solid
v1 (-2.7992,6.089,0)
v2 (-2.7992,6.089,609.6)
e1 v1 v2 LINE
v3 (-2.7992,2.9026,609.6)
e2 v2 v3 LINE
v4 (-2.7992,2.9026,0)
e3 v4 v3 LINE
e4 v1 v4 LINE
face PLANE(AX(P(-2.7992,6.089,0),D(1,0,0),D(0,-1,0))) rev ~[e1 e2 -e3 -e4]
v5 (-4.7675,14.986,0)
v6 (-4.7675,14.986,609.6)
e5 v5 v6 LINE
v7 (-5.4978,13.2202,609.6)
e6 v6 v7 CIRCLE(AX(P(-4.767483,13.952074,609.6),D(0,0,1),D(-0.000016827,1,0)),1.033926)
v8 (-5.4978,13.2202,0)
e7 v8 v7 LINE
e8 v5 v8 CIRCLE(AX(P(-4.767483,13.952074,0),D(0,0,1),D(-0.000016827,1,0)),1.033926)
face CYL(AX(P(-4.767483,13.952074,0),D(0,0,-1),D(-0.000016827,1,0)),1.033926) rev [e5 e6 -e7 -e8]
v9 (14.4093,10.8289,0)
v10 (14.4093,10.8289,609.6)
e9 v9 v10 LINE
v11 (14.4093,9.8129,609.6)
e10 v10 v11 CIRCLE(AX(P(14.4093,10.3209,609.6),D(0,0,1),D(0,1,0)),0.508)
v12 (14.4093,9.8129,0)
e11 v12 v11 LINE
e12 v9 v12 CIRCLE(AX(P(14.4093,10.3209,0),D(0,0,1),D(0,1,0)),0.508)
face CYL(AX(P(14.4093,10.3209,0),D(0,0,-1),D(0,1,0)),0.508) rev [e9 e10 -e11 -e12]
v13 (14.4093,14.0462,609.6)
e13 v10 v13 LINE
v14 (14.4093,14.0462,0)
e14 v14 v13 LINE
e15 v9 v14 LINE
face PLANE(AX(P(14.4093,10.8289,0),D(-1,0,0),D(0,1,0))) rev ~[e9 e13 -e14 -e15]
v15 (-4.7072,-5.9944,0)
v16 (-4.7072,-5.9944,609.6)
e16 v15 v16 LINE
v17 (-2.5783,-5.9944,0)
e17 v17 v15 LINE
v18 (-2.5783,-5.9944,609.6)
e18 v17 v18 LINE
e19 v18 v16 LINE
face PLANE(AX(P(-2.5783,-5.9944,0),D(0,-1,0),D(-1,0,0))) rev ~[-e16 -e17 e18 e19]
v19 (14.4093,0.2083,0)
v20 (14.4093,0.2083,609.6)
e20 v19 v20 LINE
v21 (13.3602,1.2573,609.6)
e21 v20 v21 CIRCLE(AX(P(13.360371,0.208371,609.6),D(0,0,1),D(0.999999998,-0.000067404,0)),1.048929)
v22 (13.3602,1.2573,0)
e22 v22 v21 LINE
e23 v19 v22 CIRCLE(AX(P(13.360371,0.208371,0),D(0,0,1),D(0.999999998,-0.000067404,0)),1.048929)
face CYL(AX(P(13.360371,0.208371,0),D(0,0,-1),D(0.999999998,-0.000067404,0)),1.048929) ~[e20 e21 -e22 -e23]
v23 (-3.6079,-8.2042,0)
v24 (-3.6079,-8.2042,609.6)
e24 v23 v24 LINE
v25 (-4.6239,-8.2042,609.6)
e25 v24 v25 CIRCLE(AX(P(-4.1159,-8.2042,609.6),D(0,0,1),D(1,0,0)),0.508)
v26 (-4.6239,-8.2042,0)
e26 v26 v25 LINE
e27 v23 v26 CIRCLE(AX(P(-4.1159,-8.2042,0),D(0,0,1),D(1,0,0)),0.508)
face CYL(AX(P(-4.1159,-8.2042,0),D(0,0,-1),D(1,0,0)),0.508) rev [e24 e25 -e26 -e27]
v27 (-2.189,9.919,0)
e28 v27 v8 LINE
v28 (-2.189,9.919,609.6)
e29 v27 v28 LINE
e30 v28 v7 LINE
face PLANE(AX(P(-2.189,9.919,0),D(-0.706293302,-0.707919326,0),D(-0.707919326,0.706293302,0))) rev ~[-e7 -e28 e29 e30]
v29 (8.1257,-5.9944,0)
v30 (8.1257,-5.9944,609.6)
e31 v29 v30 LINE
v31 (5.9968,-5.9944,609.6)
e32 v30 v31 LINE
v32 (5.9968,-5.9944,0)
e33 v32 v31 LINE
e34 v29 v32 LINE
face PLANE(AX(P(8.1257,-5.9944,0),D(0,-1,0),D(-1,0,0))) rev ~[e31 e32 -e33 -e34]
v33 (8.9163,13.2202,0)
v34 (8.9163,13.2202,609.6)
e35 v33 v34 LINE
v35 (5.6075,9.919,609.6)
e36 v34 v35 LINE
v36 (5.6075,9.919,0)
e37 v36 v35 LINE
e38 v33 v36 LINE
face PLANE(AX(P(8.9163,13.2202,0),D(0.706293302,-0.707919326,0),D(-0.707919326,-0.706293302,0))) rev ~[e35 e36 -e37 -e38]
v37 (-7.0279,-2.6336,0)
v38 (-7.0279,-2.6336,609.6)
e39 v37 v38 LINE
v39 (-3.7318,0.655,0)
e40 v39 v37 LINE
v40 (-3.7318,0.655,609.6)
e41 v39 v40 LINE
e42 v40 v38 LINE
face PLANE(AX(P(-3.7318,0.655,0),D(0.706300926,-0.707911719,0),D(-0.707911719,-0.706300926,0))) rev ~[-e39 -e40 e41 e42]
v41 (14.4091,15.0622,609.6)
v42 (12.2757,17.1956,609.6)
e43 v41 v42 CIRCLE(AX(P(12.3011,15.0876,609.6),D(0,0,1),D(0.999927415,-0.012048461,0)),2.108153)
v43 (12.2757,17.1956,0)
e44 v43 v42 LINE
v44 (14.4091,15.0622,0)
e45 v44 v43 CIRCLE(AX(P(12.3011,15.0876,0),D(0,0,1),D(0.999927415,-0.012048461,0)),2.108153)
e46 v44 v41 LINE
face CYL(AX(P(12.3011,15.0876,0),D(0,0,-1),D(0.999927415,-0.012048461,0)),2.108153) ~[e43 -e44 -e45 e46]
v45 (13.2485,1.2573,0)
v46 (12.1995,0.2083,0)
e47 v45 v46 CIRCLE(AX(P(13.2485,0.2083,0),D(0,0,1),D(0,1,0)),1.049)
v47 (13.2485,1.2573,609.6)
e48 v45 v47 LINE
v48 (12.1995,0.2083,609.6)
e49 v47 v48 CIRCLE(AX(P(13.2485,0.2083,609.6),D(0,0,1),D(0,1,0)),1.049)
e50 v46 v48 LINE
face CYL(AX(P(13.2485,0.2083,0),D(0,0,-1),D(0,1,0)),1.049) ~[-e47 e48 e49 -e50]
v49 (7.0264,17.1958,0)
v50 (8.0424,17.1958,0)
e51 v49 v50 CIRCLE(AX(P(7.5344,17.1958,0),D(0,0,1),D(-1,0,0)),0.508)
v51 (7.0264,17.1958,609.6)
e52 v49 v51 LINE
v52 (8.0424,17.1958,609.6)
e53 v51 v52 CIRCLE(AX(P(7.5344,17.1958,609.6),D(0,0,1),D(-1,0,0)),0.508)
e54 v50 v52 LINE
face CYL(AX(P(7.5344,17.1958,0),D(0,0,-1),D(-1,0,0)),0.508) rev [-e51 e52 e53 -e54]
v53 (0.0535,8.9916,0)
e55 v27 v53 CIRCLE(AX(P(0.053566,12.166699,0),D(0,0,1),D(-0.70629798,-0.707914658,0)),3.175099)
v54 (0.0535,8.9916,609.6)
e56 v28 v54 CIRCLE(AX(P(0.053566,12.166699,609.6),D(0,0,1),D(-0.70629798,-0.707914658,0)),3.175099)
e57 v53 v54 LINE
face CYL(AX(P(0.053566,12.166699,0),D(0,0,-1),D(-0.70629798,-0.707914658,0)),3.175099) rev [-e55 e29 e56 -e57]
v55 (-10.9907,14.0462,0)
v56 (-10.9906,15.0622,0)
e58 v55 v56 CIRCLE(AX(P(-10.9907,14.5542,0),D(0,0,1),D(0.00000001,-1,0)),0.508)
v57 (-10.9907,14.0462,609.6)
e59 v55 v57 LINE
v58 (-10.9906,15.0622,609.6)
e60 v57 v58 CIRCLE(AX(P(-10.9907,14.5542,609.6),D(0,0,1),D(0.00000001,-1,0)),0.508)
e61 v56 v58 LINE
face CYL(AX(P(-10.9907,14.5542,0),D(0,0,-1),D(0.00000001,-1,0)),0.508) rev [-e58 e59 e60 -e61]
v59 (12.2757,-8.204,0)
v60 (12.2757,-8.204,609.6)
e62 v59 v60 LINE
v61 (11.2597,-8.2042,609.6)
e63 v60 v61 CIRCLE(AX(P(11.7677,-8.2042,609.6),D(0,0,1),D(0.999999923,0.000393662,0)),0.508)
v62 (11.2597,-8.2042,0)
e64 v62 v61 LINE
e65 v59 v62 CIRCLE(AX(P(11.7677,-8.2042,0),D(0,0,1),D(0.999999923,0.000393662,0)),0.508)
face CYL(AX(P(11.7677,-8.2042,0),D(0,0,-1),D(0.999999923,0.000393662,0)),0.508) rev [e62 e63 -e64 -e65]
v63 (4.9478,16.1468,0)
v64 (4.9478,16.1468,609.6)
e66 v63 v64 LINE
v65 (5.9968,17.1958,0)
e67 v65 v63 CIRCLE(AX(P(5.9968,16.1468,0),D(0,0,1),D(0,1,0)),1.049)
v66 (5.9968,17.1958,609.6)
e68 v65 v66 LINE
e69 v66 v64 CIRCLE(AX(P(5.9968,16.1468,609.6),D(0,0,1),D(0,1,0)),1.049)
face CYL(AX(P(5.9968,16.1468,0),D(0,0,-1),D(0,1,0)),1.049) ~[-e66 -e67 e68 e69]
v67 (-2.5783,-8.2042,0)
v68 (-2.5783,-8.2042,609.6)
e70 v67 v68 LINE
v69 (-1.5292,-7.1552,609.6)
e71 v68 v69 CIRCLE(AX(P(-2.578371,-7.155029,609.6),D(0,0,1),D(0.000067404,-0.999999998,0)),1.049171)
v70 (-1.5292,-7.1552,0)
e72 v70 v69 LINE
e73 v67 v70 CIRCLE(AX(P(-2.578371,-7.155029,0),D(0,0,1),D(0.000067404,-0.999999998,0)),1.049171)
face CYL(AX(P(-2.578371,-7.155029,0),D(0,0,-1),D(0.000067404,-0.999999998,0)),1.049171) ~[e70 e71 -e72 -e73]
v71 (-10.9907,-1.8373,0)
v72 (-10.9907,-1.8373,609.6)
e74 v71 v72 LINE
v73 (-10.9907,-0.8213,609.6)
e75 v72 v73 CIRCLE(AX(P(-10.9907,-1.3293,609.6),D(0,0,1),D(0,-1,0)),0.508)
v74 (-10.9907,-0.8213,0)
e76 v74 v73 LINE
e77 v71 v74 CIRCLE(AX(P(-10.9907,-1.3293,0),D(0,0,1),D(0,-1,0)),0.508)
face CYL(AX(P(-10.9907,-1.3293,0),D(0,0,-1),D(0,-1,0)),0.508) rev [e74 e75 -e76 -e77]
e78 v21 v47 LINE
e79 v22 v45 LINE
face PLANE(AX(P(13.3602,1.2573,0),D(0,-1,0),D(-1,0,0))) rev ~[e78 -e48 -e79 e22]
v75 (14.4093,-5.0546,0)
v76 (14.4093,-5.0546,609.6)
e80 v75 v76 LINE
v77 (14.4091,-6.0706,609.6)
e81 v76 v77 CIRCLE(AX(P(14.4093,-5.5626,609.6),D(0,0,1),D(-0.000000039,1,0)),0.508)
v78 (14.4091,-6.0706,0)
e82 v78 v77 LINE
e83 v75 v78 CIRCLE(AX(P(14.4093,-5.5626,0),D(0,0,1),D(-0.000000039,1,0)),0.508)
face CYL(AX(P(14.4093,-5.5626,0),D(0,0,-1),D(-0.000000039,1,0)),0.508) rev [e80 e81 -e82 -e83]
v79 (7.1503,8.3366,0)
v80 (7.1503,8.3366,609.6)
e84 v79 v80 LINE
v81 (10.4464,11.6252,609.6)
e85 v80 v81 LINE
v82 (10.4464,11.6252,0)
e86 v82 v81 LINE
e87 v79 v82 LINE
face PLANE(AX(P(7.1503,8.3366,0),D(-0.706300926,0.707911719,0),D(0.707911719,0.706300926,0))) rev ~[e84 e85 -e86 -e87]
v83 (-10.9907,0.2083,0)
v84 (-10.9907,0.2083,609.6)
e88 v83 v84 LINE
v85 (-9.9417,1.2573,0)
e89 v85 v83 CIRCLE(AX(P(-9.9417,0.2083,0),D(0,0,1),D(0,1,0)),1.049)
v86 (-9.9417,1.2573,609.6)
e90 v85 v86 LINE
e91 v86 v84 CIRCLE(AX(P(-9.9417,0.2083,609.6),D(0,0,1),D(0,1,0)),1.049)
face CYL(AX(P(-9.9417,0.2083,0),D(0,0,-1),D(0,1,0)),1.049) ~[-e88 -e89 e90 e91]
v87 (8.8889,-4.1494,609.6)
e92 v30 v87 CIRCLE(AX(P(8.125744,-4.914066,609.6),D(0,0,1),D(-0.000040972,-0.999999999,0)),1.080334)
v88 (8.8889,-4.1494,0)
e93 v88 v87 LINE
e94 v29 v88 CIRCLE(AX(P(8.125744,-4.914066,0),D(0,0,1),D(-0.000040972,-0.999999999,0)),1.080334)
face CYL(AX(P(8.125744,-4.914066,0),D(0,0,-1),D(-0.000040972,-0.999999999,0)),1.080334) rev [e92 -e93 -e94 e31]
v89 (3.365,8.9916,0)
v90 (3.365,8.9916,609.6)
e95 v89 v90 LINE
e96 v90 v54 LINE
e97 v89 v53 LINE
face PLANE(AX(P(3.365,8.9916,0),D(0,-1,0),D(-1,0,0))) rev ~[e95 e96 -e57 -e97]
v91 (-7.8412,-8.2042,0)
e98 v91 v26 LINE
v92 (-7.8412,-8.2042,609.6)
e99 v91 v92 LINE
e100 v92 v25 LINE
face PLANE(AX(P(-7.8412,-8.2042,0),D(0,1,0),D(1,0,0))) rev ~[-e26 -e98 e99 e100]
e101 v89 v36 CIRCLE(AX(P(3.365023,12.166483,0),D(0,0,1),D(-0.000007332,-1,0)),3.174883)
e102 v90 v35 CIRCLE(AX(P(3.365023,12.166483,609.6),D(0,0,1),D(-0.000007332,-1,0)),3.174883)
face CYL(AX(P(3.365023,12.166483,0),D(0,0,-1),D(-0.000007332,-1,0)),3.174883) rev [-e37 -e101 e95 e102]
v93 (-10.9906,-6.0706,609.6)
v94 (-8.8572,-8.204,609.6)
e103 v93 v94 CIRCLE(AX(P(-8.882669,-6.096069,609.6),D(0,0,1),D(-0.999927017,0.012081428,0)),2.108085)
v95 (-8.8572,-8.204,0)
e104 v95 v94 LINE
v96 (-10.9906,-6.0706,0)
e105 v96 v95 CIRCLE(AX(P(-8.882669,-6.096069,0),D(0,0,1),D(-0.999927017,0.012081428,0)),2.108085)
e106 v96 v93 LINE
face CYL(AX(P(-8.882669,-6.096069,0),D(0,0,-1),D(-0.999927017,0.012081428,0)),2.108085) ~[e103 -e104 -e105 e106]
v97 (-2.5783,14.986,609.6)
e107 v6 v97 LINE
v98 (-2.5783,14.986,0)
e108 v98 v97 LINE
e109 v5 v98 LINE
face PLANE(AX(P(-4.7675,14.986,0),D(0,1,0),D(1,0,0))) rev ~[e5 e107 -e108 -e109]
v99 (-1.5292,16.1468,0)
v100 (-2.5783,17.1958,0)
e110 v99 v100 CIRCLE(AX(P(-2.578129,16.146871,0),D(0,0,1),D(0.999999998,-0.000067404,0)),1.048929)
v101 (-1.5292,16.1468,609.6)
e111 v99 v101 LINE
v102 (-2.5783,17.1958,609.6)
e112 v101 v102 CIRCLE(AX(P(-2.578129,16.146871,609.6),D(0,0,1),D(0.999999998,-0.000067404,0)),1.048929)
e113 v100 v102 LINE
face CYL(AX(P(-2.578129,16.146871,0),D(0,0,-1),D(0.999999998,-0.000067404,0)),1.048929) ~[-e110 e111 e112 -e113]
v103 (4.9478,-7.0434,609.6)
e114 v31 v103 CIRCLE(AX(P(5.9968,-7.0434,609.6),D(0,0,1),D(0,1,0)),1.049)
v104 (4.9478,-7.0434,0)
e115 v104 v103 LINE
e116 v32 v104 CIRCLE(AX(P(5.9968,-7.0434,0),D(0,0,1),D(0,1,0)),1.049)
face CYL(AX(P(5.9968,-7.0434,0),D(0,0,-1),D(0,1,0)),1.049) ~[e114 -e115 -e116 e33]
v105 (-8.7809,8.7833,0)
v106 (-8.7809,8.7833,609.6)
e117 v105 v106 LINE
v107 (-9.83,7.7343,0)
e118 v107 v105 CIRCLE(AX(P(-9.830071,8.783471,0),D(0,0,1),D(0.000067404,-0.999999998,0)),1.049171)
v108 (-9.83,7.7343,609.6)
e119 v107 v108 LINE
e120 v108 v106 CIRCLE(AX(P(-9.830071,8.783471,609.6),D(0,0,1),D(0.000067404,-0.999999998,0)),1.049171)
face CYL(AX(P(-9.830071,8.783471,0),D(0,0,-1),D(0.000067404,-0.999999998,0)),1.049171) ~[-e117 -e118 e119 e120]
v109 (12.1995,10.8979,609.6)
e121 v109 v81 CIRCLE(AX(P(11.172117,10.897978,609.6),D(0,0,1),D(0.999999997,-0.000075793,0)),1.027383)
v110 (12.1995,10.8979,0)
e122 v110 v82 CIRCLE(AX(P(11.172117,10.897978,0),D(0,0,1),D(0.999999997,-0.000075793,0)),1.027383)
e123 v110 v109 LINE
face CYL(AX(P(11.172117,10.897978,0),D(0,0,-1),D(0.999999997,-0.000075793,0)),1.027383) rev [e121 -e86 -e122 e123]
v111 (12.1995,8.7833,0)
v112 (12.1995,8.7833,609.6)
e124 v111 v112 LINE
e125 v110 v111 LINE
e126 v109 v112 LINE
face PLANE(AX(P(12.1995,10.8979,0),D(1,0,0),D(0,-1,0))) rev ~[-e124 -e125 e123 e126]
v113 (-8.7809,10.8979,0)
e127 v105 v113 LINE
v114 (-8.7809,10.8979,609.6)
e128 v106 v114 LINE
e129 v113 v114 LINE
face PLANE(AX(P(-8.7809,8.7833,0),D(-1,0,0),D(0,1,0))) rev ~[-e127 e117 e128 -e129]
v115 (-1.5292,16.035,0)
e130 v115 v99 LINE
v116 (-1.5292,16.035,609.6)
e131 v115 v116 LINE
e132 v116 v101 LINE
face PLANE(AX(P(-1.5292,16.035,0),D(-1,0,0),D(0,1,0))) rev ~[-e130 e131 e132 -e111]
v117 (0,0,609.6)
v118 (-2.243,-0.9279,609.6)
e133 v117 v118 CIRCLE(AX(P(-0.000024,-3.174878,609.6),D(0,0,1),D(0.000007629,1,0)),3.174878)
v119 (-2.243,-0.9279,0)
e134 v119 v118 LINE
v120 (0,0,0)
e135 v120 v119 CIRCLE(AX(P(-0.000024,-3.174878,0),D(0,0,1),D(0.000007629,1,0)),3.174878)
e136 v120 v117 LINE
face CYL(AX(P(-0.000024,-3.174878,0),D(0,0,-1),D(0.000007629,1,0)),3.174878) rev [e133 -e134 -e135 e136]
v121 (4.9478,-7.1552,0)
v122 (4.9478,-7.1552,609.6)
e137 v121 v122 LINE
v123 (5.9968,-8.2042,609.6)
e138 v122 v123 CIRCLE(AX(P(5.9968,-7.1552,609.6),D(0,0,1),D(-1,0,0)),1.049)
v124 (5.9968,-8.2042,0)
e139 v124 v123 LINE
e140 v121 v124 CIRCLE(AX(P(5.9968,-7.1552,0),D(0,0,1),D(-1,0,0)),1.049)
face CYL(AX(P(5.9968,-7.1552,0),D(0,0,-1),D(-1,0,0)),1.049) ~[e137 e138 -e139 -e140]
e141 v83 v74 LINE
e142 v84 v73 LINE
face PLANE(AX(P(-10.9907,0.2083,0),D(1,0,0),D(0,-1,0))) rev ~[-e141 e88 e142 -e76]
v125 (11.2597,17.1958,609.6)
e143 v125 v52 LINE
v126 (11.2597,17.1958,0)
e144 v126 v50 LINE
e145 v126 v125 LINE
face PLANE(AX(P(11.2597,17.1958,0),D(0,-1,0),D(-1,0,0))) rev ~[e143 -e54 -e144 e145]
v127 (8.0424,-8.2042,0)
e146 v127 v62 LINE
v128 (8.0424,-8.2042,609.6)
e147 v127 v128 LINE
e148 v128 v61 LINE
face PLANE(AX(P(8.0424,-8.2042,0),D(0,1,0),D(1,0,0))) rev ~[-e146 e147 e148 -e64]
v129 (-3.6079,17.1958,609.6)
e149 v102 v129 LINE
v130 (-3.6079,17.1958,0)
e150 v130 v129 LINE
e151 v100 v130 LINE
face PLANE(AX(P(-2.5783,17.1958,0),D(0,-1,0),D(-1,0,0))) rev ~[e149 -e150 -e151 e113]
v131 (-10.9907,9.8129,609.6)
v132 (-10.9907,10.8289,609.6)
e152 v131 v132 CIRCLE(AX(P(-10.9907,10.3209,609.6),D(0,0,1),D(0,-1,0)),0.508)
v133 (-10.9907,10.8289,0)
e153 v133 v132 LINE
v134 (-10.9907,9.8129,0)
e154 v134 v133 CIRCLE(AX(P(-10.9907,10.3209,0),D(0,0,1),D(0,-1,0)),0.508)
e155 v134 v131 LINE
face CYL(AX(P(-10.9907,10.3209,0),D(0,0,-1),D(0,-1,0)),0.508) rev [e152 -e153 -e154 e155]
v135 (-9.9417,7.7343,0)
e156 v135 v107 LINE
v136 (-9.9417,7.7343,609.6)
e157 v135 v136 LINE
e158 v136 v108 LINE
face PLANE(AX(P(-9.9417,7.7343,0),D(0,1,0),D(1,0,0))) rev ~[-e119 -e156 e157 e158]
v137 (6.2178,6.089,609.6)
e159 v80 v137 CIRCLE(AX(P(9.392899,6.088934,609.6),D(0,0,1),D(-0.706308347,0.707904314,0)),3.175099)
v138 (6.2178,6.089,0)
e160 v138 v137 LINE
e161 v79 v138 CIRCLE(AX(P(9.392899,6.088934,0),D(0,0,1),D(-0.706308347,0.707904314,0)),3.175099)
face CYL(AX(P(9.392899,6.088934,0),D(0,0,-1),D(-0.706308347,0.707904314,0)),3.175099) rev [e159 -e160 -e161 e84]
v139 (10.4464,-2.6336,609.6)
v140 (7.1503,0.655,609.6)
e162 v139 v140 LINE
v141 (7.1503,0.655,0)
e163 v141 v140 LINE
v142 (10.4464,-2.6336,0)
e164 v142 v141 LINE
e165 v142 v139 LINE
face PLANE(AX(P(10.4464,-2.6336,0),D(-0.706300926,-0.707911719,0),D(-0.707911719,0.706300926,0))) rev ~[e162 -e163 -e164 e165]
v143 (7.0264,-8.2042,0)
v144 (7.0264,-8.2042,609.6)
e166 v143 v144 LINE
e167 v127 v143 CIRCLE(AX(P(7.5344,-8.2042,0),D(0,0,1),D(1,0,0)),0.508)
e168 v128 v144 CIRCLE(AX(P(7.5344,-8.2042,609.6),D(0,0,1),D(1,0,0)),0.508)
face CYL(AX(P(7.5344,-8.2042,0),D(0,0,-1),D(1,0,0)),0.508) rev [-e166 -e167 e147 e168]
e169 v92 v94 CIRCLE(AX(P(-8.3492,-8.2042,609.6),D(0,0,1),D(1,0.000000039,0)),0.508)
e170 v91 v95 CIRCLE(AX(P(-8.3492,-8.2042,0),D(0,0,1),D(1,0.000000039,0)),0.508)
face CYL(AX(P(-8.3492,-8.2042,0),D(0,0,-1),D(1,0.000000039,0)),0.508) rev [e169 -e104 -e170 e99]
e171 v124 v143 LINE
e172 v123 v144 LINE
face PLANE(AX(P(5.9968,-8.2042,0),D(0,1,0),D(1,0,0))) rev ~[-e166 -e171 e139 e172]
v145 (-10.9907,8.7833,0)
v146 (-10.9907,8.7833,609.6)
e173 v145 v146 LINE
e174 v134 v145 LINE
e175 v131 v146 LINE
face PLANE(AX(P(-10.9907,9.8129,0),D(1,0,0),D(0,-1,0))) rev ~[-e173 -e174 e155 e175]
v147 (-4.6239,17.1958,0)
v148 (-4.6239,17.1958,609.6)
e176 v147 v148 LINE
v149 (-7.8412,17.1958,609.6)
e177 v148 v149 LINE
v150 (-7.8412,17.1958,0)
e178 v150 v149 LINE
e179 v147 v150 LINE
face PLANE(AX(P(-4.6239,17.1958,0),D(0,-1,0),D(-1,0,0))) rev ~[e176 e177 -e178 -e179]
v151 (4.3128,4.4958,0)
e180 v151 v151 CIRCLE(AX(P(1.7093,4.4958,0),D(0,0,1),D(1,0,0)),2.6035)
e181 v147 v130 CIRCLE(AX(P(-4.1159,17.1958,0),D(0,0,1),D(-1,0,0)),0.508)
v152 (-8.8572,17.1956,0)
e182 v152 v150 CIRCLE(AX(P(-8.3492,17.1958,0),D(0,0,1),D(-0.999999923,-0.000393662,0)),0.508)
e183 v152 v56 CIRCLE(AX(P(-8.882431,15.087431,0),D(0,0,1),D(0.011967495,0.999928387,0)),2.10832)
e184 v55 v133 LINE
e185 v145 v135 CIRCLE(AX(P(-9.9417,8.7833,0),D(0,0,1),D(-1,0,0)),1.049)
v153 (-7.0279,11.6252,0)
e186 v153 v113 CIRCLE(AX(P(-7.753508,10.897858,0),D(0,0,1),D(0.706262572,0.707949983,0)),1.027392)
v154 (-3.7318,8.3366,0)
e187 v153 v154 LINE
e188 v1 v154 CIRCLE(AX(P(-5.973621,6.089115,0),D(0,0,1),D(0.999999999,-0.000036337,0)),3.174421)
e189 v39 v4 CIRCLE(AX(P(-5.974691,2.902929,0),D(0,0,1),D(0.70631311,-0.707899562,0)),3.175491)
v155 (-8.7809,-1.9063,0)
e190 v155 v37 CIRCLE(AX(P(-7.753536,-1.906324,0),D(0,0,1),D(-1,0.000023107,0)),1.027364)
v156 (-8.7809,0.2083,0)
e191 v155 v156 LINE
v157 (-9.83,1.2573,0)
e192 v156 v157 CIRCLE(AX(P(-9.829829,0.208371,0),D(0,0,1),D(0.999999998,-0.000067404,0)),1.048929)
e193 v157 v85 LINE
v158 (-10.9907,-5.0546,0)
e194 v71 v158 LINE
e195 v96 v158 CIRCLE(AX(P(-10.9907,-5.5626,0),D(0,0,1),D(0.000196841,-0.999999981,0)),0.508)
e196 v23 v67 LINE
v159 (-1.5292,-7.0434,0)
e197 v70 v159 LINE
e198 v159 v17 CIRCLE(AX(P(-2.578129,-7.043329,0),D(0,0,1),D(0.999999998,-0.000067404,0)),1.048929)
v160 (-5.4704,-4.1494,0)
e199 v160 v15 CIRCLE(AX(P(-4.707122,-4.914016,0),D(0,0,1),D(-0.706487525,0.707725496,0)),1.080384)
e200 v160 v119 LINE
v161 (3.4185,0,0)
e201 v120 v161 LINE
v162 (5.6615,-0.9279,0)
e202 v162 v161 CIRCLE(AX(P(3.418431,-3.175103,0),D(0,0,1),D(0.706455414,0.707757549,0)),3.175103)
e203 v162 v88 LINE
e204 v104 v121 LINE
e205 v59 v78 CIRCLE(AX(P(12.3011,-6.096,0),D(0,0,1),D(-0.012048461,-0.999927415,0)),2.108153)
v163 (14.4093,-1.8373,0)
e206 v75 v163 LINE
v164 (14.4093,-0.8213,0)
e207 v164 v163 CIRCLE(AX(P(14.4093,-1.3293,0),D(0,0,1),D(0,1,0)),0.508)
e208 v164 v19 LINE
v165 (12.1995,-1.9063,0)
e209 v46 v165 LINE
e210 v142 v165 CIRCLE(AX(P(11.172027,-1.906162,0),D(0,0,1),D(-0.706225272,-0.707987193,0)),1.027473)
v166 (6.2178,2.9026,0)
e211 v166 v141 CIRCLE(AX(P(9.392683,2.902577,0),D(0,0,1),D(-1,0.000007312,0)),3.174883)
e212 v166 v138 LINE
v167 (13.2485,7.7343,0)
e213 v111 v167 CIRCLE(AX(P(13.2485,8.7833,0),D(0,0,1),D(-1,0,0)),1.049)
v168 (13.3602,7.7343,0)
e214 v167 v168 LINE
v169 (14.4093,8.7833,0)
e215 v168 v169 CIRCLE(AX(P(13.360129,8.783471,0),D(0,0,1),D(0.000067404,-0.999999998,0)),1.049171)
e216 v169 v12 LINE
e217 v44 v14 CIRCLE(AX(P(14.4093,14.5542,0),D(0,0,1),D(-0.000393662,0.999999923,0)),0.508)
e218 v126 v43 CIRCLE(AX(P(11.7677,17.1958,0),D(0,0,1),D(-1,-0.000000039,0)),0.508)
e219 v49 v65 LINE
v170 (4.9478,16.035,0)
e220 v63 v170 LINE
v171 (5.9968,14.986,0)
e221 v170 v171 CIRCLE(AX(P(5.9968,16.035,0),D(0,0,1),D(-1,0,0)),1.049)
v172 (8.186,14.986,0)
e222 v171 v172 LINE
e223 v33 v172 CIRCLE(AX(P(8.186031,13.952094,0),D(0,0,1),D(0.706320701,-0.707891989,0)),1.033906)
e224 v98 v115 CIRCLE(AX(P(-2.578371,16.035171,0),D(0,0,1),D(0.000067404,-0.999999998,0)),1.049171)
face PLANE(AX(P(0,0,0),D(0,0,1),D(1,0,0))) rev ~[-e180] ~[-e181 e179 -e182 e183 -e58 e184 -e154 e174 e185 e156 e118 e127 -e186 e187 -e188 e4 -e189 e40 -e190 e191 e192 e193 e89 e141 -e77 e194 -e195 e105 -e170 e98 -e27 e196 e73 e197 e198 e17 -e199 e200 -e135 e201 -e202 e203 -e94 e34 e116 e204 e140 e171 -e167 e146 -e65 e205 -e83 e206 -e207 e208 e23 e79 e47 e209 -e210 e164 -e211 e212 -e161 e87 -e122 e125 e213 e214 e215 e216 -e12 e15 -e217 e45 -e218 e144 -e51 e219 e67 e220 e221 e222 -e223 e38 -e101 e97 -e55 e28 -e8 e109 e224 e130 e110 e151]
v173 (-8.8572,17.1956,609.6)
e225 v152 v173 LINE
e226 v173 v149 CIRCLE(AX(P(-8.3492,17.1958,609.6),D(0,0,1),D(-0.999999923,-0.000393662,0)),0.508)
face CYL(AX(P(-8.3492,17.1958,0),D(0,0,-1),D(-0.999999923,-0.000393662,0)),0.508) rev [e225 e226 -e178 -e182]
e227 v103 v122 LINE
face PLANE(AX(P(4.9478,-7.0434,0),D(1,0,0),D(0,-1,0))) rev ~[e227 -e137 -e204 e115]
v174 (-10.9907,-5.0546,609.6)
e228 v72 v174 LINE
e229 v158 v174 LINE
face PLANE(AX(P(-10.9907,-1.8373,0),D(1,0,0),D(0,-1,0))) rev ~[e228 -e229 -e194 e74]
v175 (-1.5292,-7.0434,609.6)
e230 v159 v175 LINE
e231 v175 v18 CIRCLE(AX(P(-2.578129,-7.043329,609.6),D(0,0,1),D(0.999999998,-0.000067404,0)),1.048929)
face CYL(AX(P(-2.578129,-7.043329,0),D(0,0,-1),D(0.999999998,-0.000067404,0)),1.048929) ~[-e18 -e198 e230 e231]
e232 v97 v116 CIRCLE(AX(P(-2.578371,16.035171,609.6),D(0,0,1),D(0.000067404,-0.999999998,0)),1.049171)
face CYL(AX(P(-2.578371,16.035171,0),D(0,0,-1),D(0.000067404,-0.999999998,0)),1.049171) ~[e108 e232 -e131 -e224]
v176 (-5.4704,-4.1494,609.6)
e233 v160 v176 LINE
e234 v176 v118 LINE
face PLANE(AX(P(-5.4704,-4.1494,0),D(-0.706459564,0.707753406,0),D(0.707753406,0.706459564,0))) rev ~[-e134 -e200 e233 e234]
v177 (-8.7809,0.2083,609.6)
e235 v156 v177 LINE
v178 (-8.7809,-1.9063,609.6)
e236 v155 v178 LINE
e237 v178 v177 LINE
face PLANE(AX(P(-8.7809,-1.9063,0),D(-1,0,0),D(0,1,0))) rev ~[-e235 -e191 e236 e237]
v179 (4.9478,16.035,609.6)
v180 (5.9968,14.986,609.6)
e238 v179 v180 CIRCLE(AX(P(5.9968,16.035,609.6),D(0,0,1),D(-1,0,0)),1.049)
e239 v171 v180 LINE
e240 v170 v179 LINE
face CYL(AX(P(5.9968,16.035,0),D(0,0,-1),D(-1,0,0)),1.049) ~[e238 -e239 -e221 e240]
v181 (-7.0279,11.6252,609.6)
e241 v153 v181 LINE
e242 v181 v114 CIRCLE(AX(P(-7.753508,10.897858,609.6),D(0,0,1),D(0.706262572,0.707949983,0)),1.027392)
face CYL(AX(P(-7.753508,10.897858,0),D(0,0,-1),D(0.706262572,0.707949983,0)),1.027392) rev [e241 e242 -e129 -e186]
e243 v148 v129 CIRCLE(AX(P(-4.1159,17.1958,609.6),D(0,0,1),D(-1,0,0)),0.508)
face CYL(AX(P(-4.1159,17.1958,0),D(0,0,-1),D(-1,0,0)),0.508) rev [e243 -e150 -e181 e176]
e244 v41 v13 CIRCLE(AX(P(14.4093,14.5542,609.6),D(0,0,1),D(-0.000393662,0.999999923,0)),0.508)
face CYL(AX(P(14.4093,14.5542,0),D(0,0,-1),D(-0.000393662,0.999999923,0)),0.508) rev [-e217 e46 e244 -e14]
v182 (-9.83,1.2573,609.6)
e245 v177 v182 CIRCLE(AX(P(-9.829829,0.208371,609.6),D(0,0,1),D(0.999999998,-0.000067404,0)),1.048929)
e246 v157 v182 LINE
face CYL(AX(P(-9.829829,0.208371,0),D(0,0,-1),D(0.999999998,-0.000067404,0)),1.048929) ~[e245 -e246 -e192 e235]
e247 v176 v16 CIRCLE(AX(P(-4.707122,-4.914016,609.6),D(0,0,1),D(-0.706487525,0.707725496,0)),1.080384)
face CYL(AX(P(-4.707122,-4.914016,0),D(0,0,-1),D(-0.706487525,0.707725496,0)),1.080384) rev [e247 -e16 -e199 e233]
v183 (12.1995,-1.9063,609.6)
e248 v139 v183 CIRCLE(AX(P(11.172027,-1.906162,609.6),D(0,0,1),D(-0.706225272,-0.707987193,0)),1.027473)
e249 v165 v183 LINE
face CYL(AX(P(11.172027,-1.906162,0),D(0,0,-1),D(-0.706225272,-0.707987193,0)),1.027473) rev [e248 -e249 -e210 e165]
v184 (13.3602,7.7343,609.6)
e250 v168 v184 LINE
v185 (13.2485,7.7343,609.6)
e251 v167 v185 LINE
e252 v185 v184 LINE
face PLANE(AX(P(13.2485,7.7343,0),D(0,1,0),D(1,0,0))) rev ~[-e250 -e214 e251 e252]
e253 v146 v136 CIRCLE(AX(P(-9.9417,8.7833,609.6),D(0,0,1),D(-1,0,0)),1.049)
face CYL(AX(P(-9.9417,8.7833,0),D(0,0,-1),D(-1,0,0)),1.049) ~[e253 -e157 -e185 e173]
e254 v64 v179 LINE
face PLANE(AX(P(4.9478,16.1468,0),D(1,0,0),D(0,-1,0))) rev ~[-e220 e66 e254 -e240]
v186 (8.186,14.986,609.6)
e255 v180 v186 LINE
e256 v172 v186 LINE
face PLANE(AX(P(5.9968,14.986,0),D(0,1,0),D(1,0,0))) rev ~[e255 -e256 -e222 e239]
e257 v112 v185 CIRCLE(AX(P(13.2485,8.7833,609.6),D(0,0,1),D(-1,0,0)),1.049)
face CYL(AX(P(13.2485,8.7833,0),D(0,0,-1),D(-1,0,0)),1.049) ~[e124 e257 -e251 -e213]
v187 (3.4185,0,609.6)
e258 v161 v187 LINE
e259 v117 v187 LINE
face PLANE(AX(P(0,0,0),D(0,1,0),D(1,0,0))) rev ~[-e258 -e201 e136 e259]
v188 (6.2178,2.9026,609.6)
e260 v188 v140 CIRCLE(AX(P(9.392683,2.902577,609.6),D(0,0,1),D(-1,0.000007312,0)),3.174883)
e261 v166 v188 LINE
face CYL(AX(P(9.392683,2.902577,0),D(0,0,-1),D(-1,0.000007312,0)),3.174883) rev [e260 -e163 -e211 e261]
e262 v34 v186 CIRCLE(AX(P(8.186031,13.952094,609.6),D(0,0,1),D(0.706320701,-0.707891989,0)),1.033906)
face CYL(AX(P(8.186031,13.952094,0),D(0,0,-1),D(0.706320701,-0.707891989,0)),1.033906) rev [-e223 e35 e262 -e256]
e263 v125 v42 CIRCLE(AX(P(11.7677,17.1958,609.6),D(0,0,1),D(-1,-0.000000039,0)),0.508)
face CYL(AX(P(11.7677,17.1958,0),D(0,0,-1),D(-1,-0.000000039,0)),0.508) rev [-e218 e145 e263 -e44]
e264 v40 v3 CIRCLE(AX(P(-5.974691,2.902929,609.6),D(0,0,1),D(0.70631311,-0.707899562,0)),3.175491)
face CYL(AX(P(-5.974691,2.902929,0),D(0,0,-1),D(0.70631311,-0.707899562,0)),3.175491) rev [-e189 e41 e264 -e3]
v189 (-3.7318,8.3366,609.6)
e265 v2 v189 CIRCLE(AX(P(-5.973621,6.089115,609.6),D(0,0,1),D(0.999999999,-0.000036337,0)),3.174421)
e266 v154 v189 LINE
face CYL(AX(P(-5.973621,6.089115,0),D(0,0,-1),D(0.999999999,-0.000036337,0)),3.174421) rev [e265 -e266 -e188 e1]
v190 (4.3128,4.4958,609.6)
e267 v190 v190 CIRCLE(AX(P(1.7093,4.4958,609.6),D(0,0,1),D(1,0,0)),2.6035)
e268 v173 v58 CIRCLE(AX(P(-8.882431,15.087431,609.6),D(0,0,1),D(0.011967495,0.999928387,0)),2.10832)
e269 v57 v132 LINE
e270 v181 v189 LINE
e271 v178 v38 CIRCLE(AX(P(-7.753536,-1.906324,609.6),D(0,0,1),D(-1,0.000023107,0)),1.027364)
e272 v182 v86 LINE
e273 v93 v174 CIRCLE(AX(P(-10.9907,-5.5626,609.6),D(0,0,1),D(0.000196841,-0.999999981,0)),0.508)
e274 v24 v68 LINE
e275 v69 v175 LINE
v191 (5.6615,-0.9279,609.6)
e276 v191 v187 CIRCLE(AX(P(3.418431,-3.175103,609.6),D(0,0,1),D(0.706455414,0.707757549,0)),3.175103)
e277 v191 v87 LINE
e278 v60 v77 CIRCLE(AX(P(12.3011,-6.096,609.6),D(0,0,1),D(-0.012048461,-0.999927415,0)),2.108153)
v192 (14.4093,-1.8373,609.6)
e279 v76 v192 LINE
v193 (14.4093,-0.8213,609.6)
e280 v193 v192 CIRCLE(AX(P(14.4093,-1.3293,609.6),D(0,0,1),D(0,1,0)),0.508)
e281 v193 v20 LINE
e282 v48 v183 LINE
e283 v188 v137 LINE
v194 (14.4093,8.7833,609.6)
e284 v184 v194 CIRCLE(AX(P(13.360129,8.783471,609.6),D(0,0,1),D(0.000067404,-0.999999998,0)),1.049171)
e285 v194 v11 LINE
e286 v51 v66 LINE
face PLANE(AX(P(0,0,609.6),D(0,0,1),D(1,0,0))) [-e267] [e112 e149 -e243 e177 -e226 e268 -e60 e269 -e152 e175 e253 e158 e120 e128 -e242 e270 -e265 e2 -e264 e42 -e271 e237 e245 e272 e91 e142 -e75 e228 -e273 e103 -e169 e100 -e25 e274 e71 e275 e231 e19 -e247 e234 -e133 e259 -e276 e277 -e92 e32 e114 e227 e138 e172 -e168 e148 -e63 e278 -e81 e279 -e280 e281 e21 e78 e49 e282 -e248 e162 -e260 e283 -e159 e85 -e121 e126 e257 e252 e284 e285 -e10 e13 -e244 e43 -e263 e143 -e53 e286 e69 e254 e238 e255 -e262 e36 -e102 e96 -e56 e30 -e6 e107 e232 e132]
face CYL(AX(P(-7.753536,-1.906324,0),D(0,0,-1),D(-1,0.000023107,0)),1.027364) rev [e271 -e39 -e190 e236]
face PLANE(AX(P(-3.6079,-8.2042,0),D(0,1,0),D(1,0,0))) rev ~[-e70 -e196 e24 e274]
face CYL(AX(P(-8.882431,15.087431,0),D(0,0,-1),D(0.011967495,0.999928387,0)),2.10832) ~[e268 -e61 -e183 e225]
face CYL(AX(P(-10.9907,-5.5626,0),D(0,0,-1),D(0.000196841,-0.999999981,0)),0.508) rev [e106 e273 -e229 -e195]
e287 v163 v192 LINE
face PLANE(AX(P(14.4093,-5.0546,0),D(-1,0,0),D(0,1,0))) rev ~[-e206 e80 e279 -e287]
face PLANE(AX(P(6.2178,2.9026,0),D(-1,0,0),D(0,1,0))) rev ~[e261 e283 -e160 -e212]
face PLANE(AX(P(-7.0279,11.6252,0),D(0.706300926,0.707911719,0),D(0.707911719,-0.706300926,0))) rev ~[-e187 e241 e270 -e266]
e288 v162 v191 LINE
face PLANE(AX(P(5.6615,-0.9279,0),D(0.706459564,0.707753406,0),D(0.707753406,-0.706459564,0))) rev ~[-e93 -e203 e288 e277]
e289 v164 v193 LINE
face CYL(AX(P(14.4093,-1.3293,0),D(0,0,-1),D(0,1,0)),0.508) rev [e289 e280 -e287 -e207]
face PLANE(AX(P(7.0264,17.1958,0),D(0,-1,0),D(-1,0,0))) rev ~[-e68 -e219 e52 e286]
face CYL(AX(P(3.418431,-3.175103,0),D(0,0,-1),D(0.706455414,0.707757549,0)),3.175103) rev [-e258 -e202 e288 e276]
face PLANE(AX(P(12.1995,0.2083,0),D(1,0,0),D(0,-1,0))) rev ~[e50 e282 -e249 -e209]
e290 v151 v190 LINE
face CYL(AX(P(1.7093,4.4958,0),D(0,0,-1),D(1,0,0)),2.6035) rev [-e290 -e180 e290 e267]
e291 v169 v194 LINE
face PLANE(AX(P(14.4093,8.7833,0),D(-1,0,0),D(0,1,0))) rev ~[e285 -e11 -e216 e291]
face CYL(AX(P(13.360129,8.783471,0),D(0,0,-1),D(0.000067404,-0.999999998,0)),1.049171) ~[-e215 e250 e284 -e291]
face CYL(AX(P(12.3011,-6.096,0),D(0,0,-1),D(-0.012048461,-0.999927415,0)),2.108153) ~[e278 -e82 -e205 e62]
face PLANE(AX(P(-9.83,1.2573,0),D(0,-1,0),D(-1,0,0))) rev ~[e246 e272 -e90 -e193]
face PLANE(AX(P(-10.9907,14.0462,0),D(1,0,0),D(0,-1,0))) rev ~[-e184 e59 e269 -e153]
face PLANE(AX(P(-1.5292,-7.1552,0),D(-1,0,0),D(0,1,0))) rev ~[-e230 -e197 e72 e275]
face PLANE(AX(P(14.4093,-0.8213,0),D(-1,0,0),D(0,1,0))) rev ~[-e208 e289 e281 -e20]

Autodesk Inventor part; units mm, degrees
ref_plane "YZ Plane" through (0, 0, 0) normal (1, 0, 0) x (0, 1, 0)
ref_plane "XZ Plane" through (0, 0, 0) normal (0, 1, 0) x (-1, 0, 0)
ref_plane "XY Plane" through (0, 0, 0) normal (0, 0, 1) x (1, 0, 0)
sketch "Sketch1" plane through (0, 0, 0) normal (0, 0, 1) x (1, 0, 0)
  arc A0 (-5.4704, -4.1494) -> (-4.7072, -5.9944) centre (-4.7072, -4.914) ccw
  line L0 (-5.4704, -4.1494) -> (-2.243, -0.9279)
  arc A1 (0, 0) -> (-2.243, -0.9279) centre (0, -3.175) ccw
  line L1 (0, 0) -> (3.4185, 0)
  arc A2 (5.6615, -0.9279) -> (3.4185, 0) centre (3.4185, -3.175) ccw
  line L2 (5.6615, -0.9279) -> (8.8889, -4.1494)
  arc A3 (8.1257, -5.9944) -> (8.8889, -4.1494) centre (8.1257, -4.914) ccw
  line L3 (8.1257, -5.9944) -> (5.9968, -5.9944)
  arc A4 (5.9968, -5.9944) -> (4.9478, -7.0434) centre (5.9968, -7.0434) ccw
  line L4 (4.9478, -7.0434) -> (4.9478, -7.1552)
  arc A5 (4.9478, -7.1552) -> (5.9968, -8.2042) centre (5.9968, -7.1552) ccw
  line L5 (5.9968, -8.2042) -> (7.0264, -8.2042)
  arc A6 (8.0424, -8.2042) -> (7.0264, -8.2042) centre (7.5344, -8.2042) ccw
  line L6 (8.0424, -8.2042) -> (11.2597, -8.2042)
  arc A7 (12.2757, -8.204) -> (11.2597, -8.2042) centre (11.7677, -8.2042) ccw
  arc A8 (12.2757, -8.204) -> (14.4091, -6.0706) centre (12.3011, -6.096) ccw
  arc A9 (14.4093, -5.0546) -> (14.4091, -6.0706) centre (14.4093, -5.5626) ccw
  line L7 (14.4093, -5.0546) -> (14.4093, -1.8373)
  arc A10 (14.4093, -0.8213) -> (14.4093, -1.8373) centre (14.4093, -1.3293) ccw
  line L8 (14.4093, -0.8213) -> (14.4093, 0.2083)
  arc A11 (14.4093, 0.2083) -> (13.3602, 1.2573) centre (13.3602, 0.2083) ccw
  line L9 (13.3602, 1.2573) -> (13.2485, 1.2573)
  arc A12 (13.2485, 1.2573) -> (12.1995, 0.2083) centre (13.2485, 0.2083) ccw
  line L10 (12.1995, 0.2083) -> (12.1995, -1.9063)
  arc A13 (10.4464, -2.6336) -> (12.1995, -1.9063) centre (11.172, -1.9063) ccw
  line L11 (10.4464, -2.6336) -> (7.1503, 0.655)
  arc A14 (6.2178, 2.9026) -> (7.1503, 0.655) centre (9.3928, 2.9026) ccw
  line L12 (6.2178, 2.9026) -> (6.2178, 6.089)
  arc A15 (7.1503, 8.3366) -> (6.2178, 6.089) centre (9.3928, 6.089) ccw
  line L13 (7.1503, 8.3366) -> (10.4464, 11.6252)
  arc A16 (12.1995, 10.8979) -> (10.4464, 11.6252) centre (11.172, 10.8979) ccw
  line L14 (12.1995, 10.8979) -> (12.1995, 8.7833)
  arc A17 (12.1995, 8.7833) -> (13.2485, 7.7343) centre (13.2485, 8.7833) ccw
  line L15 (13.2485, 7.7343) -> (13.3602, 7.7343)
  arc A18 (13.3602, 7.7343) -> (14.4093, 8.7833) centre (13.3602, 8.7833) ccw
  line L16 (14.4093, 8.7833) -> (14.4093, 9.8129)
  arc A19 (14.4093, 10.8289) -> (14.4093, 9.8129) centre (14.4093, 10.3209) ccw
  line L17 (14.4093, 10.8289) -> (14.4093, 14.0462)
  arc A20 (14.4091, 15.0622) -> (14.4093, 14.0462) centre (14.4093, 14.5542) ccw
  arc A21 (14.4091, 15.0622) -> (12.2757, 17.1956) centre (12.3011, 15.0876) ccw
  arc A22 (11.2597, 17.1958) -> (12.2757, 17.1956) centre (11.7677, 17.1958) ccw
  line L18 (11.2597, 17.1958) -> (8.0424, 17.1958)
  arc A23 (7.0264, 17.1958) -> (8.0424, 17.1958) centre (7.5344, 17.1958) ccw
  line L19 (7.0264, 17.1958) -> (5.9968, 17.1958)
  arc A24 (5.9968, 17.1958) -> (4.9478, 16.1468) centre (5.9968, 16.1468) ccw
  line L20 (4.9478, 16.1468) -> (4.9478, 16.035)
  arc A25 (4.9478, 16.035) -> (5.9968, 14.986) centre (5.9968, 16.035) ccw
  line L21 (5.9968, 14.986) -> (8.186, 14.986)
  arc A26 (8.9163, 13.2202) -> (8.186, 14.986) centre (8.186, 13.9521) ccw
  line L22 (8.9163, 13.2202) -> (5.6075, 9.919)
  arc A27 (3.365, 8.9916) -> (5.6075, 9.919) centre (3.365, 12.1666) ccw
  line L23 (3.365, 8.9916) -> (0.0535, 8.9916)
  arc A28 (-2.189, 9.919) -> (0.0535, 8.9916) centre (0.0535, 12.1666) ccw
  line L24 (-2.189, 9.919) -> (-5.4978, 13.2202)
  arc A29 (-4.7675, 14.986) -> (-5.4978, 13.2202) centre (-4.7675, 13.9521) ccw
  line L25 (-4.7675, 14.986) -> (-2.5783, 14.986)
  arc A30 (-2.5783, 14.986) -> (-1.5292, 16.035) centre (-2.5783, 16.035) ccw
  line L26 (-1.5292, 16.035) -> (-1.5292, 16.1468)
  arc A31 (-1.5292, 16.1468) -> (-2.5783, 17.1958) centre (-2.5783, 16.1468) ccw
  line L27 (-2.5783, 17.1958) -> (-3.6079, 17.1958)
  arc A32 (-4.6239, 17.1958) -> (-3.6079, 17.1958) centre (-4.1159, 17.1958) ccw
  line L28 (-4.6239, 17.1958) -> (-7.8412, 17.1958)
  arc A33 (-8.8572, 17.1956) -> (-7.8412, 17.1958) centre (-8.3492, 17.1958) ccw
  arc A34 (-8.8572, 17.1956) -> (-10.9906, 15.0622) centre (-8.8825, 15.0876) ccw
  arc A35 (-10.9907, 14.0462) -> (-10.9906, 15.0622) centre (-10.9907, 14.5542) ccw
  line L29 (-10.9907, 14.0462) -> (-10.9907, 10.8289)
  arc A36 (-10.9907, 9.8129) -> (-10.9907, 10.8289) centre (-10.9907, 10.3209) ccw
  line L30 (-10.9907, 9.8129) -> (-10.9907, 8.7833)
  arc A37 (-10.9907, 8.7833) -> (-9.9417, 7.7343) centre (-9.9417, 8.7833) ccw
  line L31 (-9.9417, 7.7343) -> (-9.83, 7.7343)
  arc A38 (-9.83, 7.7343) -> (-8.7809, 8.7833) centre (-9.83, 8.7833) ccw
  line L32 (-8.7809, 8.7833) -> (-8.7809, 10.8979)
  arc A39 (-7.0279, 11.6252) -> (-8.7809, 10.8979) centre (-7.7535, 10.8979) ccw
  line L33 (-7.0279, 11.6252) -> (-3.7318, 8.3366)
  arc A40 (-2.7992, 6.089) -> (-3.7318, 8.3366) centre (-5.9742, 6.089) ccw
  line L34 (-2.7992, 6.089) -> (-2.7992, 2.9026)
  arc A41 (-3.7318, 0.655) -> (-2.7992, 2.9026) centre (-5.9742, 2.9026) ccw
  line L35 (-3.7318, 0.655) -> (-7.0279, -2.6336)
  arc A42 (-8.7809, -1.9063) -> (-7.0279, -2.6336) centre (-7.7535, -1.9063) ccw
  line L36 (-8.7809, -1.9063) -> (-8.7809, 0.2083)
  arc A43 (-8.7809, 0.2083) -> (-9.83, 1.2573) centre (-9.83, 0.2083) ccw
  line L37 (-9.83, 1.2573) -> (-9.9417, 1.2573)
  arc A44 (-9.9417, 1.2573) -> (-10.9907, 0.2083) centre (-9.9417, 0.2083) ccw
  line L38 (-10.9907, 0.2083) -> (-10.9907, -0.8213)
  arc A45 (-10.9907, -1.8373) -> (-10.9907, -0.8213) centre (-10.9907, -1.3293) ccw
  line L39 (-10.9907, -1.8373) -> (-10.9907, -5.0546)
  arc A46 (-10.9906, -6.0706) -> (-10.9907, -5.0546) centre (-10.9907, -5.5626) ccw
  arc A47 (-10.9906, -6.0706) -> (-8.8572, -8.204) centre (-8.8825, -6.096) ccw
  arc A48 (-7.8412, -8.2042) -> (-8.8572, -8.204) centre (-8.3492, -8.2042) ccw
  line L40 (-7.8412, -8.2042) -> (-4.6239, -8.2042)
  arc A49 (-3.6079, -8.2042) -> (-4.6239, -8.2042) centre (-4.1159, -8.2042) ccw
  line L41 (-3.6079, -8.2042) -> (-2.5783, -8.2042)
  arc A50 (-2.5783, -8.2042) -> (-1.5292, -7.1552) centre (-2.5783, -7.1552) ccw
  line L42 (-1.5292, -7.1552) -> (-1.5292, -7.0434)
  arc A51 (-1.5292, -7.0434) -> (-2.5783, -5.9944) centre (-2.5783, -7.0434) ccw
  line L43 (-2.5783, -5.9944) -> (-4.7072, -5.9944)
  circle A52 centre (1.7093, 4.4958) radius 2.6035
extrude "Extrusion1" add sketch "Sketch1" along normal blind 609.6
properties part number "24 in 1x1 T slot" material "Steel, Alloy"
